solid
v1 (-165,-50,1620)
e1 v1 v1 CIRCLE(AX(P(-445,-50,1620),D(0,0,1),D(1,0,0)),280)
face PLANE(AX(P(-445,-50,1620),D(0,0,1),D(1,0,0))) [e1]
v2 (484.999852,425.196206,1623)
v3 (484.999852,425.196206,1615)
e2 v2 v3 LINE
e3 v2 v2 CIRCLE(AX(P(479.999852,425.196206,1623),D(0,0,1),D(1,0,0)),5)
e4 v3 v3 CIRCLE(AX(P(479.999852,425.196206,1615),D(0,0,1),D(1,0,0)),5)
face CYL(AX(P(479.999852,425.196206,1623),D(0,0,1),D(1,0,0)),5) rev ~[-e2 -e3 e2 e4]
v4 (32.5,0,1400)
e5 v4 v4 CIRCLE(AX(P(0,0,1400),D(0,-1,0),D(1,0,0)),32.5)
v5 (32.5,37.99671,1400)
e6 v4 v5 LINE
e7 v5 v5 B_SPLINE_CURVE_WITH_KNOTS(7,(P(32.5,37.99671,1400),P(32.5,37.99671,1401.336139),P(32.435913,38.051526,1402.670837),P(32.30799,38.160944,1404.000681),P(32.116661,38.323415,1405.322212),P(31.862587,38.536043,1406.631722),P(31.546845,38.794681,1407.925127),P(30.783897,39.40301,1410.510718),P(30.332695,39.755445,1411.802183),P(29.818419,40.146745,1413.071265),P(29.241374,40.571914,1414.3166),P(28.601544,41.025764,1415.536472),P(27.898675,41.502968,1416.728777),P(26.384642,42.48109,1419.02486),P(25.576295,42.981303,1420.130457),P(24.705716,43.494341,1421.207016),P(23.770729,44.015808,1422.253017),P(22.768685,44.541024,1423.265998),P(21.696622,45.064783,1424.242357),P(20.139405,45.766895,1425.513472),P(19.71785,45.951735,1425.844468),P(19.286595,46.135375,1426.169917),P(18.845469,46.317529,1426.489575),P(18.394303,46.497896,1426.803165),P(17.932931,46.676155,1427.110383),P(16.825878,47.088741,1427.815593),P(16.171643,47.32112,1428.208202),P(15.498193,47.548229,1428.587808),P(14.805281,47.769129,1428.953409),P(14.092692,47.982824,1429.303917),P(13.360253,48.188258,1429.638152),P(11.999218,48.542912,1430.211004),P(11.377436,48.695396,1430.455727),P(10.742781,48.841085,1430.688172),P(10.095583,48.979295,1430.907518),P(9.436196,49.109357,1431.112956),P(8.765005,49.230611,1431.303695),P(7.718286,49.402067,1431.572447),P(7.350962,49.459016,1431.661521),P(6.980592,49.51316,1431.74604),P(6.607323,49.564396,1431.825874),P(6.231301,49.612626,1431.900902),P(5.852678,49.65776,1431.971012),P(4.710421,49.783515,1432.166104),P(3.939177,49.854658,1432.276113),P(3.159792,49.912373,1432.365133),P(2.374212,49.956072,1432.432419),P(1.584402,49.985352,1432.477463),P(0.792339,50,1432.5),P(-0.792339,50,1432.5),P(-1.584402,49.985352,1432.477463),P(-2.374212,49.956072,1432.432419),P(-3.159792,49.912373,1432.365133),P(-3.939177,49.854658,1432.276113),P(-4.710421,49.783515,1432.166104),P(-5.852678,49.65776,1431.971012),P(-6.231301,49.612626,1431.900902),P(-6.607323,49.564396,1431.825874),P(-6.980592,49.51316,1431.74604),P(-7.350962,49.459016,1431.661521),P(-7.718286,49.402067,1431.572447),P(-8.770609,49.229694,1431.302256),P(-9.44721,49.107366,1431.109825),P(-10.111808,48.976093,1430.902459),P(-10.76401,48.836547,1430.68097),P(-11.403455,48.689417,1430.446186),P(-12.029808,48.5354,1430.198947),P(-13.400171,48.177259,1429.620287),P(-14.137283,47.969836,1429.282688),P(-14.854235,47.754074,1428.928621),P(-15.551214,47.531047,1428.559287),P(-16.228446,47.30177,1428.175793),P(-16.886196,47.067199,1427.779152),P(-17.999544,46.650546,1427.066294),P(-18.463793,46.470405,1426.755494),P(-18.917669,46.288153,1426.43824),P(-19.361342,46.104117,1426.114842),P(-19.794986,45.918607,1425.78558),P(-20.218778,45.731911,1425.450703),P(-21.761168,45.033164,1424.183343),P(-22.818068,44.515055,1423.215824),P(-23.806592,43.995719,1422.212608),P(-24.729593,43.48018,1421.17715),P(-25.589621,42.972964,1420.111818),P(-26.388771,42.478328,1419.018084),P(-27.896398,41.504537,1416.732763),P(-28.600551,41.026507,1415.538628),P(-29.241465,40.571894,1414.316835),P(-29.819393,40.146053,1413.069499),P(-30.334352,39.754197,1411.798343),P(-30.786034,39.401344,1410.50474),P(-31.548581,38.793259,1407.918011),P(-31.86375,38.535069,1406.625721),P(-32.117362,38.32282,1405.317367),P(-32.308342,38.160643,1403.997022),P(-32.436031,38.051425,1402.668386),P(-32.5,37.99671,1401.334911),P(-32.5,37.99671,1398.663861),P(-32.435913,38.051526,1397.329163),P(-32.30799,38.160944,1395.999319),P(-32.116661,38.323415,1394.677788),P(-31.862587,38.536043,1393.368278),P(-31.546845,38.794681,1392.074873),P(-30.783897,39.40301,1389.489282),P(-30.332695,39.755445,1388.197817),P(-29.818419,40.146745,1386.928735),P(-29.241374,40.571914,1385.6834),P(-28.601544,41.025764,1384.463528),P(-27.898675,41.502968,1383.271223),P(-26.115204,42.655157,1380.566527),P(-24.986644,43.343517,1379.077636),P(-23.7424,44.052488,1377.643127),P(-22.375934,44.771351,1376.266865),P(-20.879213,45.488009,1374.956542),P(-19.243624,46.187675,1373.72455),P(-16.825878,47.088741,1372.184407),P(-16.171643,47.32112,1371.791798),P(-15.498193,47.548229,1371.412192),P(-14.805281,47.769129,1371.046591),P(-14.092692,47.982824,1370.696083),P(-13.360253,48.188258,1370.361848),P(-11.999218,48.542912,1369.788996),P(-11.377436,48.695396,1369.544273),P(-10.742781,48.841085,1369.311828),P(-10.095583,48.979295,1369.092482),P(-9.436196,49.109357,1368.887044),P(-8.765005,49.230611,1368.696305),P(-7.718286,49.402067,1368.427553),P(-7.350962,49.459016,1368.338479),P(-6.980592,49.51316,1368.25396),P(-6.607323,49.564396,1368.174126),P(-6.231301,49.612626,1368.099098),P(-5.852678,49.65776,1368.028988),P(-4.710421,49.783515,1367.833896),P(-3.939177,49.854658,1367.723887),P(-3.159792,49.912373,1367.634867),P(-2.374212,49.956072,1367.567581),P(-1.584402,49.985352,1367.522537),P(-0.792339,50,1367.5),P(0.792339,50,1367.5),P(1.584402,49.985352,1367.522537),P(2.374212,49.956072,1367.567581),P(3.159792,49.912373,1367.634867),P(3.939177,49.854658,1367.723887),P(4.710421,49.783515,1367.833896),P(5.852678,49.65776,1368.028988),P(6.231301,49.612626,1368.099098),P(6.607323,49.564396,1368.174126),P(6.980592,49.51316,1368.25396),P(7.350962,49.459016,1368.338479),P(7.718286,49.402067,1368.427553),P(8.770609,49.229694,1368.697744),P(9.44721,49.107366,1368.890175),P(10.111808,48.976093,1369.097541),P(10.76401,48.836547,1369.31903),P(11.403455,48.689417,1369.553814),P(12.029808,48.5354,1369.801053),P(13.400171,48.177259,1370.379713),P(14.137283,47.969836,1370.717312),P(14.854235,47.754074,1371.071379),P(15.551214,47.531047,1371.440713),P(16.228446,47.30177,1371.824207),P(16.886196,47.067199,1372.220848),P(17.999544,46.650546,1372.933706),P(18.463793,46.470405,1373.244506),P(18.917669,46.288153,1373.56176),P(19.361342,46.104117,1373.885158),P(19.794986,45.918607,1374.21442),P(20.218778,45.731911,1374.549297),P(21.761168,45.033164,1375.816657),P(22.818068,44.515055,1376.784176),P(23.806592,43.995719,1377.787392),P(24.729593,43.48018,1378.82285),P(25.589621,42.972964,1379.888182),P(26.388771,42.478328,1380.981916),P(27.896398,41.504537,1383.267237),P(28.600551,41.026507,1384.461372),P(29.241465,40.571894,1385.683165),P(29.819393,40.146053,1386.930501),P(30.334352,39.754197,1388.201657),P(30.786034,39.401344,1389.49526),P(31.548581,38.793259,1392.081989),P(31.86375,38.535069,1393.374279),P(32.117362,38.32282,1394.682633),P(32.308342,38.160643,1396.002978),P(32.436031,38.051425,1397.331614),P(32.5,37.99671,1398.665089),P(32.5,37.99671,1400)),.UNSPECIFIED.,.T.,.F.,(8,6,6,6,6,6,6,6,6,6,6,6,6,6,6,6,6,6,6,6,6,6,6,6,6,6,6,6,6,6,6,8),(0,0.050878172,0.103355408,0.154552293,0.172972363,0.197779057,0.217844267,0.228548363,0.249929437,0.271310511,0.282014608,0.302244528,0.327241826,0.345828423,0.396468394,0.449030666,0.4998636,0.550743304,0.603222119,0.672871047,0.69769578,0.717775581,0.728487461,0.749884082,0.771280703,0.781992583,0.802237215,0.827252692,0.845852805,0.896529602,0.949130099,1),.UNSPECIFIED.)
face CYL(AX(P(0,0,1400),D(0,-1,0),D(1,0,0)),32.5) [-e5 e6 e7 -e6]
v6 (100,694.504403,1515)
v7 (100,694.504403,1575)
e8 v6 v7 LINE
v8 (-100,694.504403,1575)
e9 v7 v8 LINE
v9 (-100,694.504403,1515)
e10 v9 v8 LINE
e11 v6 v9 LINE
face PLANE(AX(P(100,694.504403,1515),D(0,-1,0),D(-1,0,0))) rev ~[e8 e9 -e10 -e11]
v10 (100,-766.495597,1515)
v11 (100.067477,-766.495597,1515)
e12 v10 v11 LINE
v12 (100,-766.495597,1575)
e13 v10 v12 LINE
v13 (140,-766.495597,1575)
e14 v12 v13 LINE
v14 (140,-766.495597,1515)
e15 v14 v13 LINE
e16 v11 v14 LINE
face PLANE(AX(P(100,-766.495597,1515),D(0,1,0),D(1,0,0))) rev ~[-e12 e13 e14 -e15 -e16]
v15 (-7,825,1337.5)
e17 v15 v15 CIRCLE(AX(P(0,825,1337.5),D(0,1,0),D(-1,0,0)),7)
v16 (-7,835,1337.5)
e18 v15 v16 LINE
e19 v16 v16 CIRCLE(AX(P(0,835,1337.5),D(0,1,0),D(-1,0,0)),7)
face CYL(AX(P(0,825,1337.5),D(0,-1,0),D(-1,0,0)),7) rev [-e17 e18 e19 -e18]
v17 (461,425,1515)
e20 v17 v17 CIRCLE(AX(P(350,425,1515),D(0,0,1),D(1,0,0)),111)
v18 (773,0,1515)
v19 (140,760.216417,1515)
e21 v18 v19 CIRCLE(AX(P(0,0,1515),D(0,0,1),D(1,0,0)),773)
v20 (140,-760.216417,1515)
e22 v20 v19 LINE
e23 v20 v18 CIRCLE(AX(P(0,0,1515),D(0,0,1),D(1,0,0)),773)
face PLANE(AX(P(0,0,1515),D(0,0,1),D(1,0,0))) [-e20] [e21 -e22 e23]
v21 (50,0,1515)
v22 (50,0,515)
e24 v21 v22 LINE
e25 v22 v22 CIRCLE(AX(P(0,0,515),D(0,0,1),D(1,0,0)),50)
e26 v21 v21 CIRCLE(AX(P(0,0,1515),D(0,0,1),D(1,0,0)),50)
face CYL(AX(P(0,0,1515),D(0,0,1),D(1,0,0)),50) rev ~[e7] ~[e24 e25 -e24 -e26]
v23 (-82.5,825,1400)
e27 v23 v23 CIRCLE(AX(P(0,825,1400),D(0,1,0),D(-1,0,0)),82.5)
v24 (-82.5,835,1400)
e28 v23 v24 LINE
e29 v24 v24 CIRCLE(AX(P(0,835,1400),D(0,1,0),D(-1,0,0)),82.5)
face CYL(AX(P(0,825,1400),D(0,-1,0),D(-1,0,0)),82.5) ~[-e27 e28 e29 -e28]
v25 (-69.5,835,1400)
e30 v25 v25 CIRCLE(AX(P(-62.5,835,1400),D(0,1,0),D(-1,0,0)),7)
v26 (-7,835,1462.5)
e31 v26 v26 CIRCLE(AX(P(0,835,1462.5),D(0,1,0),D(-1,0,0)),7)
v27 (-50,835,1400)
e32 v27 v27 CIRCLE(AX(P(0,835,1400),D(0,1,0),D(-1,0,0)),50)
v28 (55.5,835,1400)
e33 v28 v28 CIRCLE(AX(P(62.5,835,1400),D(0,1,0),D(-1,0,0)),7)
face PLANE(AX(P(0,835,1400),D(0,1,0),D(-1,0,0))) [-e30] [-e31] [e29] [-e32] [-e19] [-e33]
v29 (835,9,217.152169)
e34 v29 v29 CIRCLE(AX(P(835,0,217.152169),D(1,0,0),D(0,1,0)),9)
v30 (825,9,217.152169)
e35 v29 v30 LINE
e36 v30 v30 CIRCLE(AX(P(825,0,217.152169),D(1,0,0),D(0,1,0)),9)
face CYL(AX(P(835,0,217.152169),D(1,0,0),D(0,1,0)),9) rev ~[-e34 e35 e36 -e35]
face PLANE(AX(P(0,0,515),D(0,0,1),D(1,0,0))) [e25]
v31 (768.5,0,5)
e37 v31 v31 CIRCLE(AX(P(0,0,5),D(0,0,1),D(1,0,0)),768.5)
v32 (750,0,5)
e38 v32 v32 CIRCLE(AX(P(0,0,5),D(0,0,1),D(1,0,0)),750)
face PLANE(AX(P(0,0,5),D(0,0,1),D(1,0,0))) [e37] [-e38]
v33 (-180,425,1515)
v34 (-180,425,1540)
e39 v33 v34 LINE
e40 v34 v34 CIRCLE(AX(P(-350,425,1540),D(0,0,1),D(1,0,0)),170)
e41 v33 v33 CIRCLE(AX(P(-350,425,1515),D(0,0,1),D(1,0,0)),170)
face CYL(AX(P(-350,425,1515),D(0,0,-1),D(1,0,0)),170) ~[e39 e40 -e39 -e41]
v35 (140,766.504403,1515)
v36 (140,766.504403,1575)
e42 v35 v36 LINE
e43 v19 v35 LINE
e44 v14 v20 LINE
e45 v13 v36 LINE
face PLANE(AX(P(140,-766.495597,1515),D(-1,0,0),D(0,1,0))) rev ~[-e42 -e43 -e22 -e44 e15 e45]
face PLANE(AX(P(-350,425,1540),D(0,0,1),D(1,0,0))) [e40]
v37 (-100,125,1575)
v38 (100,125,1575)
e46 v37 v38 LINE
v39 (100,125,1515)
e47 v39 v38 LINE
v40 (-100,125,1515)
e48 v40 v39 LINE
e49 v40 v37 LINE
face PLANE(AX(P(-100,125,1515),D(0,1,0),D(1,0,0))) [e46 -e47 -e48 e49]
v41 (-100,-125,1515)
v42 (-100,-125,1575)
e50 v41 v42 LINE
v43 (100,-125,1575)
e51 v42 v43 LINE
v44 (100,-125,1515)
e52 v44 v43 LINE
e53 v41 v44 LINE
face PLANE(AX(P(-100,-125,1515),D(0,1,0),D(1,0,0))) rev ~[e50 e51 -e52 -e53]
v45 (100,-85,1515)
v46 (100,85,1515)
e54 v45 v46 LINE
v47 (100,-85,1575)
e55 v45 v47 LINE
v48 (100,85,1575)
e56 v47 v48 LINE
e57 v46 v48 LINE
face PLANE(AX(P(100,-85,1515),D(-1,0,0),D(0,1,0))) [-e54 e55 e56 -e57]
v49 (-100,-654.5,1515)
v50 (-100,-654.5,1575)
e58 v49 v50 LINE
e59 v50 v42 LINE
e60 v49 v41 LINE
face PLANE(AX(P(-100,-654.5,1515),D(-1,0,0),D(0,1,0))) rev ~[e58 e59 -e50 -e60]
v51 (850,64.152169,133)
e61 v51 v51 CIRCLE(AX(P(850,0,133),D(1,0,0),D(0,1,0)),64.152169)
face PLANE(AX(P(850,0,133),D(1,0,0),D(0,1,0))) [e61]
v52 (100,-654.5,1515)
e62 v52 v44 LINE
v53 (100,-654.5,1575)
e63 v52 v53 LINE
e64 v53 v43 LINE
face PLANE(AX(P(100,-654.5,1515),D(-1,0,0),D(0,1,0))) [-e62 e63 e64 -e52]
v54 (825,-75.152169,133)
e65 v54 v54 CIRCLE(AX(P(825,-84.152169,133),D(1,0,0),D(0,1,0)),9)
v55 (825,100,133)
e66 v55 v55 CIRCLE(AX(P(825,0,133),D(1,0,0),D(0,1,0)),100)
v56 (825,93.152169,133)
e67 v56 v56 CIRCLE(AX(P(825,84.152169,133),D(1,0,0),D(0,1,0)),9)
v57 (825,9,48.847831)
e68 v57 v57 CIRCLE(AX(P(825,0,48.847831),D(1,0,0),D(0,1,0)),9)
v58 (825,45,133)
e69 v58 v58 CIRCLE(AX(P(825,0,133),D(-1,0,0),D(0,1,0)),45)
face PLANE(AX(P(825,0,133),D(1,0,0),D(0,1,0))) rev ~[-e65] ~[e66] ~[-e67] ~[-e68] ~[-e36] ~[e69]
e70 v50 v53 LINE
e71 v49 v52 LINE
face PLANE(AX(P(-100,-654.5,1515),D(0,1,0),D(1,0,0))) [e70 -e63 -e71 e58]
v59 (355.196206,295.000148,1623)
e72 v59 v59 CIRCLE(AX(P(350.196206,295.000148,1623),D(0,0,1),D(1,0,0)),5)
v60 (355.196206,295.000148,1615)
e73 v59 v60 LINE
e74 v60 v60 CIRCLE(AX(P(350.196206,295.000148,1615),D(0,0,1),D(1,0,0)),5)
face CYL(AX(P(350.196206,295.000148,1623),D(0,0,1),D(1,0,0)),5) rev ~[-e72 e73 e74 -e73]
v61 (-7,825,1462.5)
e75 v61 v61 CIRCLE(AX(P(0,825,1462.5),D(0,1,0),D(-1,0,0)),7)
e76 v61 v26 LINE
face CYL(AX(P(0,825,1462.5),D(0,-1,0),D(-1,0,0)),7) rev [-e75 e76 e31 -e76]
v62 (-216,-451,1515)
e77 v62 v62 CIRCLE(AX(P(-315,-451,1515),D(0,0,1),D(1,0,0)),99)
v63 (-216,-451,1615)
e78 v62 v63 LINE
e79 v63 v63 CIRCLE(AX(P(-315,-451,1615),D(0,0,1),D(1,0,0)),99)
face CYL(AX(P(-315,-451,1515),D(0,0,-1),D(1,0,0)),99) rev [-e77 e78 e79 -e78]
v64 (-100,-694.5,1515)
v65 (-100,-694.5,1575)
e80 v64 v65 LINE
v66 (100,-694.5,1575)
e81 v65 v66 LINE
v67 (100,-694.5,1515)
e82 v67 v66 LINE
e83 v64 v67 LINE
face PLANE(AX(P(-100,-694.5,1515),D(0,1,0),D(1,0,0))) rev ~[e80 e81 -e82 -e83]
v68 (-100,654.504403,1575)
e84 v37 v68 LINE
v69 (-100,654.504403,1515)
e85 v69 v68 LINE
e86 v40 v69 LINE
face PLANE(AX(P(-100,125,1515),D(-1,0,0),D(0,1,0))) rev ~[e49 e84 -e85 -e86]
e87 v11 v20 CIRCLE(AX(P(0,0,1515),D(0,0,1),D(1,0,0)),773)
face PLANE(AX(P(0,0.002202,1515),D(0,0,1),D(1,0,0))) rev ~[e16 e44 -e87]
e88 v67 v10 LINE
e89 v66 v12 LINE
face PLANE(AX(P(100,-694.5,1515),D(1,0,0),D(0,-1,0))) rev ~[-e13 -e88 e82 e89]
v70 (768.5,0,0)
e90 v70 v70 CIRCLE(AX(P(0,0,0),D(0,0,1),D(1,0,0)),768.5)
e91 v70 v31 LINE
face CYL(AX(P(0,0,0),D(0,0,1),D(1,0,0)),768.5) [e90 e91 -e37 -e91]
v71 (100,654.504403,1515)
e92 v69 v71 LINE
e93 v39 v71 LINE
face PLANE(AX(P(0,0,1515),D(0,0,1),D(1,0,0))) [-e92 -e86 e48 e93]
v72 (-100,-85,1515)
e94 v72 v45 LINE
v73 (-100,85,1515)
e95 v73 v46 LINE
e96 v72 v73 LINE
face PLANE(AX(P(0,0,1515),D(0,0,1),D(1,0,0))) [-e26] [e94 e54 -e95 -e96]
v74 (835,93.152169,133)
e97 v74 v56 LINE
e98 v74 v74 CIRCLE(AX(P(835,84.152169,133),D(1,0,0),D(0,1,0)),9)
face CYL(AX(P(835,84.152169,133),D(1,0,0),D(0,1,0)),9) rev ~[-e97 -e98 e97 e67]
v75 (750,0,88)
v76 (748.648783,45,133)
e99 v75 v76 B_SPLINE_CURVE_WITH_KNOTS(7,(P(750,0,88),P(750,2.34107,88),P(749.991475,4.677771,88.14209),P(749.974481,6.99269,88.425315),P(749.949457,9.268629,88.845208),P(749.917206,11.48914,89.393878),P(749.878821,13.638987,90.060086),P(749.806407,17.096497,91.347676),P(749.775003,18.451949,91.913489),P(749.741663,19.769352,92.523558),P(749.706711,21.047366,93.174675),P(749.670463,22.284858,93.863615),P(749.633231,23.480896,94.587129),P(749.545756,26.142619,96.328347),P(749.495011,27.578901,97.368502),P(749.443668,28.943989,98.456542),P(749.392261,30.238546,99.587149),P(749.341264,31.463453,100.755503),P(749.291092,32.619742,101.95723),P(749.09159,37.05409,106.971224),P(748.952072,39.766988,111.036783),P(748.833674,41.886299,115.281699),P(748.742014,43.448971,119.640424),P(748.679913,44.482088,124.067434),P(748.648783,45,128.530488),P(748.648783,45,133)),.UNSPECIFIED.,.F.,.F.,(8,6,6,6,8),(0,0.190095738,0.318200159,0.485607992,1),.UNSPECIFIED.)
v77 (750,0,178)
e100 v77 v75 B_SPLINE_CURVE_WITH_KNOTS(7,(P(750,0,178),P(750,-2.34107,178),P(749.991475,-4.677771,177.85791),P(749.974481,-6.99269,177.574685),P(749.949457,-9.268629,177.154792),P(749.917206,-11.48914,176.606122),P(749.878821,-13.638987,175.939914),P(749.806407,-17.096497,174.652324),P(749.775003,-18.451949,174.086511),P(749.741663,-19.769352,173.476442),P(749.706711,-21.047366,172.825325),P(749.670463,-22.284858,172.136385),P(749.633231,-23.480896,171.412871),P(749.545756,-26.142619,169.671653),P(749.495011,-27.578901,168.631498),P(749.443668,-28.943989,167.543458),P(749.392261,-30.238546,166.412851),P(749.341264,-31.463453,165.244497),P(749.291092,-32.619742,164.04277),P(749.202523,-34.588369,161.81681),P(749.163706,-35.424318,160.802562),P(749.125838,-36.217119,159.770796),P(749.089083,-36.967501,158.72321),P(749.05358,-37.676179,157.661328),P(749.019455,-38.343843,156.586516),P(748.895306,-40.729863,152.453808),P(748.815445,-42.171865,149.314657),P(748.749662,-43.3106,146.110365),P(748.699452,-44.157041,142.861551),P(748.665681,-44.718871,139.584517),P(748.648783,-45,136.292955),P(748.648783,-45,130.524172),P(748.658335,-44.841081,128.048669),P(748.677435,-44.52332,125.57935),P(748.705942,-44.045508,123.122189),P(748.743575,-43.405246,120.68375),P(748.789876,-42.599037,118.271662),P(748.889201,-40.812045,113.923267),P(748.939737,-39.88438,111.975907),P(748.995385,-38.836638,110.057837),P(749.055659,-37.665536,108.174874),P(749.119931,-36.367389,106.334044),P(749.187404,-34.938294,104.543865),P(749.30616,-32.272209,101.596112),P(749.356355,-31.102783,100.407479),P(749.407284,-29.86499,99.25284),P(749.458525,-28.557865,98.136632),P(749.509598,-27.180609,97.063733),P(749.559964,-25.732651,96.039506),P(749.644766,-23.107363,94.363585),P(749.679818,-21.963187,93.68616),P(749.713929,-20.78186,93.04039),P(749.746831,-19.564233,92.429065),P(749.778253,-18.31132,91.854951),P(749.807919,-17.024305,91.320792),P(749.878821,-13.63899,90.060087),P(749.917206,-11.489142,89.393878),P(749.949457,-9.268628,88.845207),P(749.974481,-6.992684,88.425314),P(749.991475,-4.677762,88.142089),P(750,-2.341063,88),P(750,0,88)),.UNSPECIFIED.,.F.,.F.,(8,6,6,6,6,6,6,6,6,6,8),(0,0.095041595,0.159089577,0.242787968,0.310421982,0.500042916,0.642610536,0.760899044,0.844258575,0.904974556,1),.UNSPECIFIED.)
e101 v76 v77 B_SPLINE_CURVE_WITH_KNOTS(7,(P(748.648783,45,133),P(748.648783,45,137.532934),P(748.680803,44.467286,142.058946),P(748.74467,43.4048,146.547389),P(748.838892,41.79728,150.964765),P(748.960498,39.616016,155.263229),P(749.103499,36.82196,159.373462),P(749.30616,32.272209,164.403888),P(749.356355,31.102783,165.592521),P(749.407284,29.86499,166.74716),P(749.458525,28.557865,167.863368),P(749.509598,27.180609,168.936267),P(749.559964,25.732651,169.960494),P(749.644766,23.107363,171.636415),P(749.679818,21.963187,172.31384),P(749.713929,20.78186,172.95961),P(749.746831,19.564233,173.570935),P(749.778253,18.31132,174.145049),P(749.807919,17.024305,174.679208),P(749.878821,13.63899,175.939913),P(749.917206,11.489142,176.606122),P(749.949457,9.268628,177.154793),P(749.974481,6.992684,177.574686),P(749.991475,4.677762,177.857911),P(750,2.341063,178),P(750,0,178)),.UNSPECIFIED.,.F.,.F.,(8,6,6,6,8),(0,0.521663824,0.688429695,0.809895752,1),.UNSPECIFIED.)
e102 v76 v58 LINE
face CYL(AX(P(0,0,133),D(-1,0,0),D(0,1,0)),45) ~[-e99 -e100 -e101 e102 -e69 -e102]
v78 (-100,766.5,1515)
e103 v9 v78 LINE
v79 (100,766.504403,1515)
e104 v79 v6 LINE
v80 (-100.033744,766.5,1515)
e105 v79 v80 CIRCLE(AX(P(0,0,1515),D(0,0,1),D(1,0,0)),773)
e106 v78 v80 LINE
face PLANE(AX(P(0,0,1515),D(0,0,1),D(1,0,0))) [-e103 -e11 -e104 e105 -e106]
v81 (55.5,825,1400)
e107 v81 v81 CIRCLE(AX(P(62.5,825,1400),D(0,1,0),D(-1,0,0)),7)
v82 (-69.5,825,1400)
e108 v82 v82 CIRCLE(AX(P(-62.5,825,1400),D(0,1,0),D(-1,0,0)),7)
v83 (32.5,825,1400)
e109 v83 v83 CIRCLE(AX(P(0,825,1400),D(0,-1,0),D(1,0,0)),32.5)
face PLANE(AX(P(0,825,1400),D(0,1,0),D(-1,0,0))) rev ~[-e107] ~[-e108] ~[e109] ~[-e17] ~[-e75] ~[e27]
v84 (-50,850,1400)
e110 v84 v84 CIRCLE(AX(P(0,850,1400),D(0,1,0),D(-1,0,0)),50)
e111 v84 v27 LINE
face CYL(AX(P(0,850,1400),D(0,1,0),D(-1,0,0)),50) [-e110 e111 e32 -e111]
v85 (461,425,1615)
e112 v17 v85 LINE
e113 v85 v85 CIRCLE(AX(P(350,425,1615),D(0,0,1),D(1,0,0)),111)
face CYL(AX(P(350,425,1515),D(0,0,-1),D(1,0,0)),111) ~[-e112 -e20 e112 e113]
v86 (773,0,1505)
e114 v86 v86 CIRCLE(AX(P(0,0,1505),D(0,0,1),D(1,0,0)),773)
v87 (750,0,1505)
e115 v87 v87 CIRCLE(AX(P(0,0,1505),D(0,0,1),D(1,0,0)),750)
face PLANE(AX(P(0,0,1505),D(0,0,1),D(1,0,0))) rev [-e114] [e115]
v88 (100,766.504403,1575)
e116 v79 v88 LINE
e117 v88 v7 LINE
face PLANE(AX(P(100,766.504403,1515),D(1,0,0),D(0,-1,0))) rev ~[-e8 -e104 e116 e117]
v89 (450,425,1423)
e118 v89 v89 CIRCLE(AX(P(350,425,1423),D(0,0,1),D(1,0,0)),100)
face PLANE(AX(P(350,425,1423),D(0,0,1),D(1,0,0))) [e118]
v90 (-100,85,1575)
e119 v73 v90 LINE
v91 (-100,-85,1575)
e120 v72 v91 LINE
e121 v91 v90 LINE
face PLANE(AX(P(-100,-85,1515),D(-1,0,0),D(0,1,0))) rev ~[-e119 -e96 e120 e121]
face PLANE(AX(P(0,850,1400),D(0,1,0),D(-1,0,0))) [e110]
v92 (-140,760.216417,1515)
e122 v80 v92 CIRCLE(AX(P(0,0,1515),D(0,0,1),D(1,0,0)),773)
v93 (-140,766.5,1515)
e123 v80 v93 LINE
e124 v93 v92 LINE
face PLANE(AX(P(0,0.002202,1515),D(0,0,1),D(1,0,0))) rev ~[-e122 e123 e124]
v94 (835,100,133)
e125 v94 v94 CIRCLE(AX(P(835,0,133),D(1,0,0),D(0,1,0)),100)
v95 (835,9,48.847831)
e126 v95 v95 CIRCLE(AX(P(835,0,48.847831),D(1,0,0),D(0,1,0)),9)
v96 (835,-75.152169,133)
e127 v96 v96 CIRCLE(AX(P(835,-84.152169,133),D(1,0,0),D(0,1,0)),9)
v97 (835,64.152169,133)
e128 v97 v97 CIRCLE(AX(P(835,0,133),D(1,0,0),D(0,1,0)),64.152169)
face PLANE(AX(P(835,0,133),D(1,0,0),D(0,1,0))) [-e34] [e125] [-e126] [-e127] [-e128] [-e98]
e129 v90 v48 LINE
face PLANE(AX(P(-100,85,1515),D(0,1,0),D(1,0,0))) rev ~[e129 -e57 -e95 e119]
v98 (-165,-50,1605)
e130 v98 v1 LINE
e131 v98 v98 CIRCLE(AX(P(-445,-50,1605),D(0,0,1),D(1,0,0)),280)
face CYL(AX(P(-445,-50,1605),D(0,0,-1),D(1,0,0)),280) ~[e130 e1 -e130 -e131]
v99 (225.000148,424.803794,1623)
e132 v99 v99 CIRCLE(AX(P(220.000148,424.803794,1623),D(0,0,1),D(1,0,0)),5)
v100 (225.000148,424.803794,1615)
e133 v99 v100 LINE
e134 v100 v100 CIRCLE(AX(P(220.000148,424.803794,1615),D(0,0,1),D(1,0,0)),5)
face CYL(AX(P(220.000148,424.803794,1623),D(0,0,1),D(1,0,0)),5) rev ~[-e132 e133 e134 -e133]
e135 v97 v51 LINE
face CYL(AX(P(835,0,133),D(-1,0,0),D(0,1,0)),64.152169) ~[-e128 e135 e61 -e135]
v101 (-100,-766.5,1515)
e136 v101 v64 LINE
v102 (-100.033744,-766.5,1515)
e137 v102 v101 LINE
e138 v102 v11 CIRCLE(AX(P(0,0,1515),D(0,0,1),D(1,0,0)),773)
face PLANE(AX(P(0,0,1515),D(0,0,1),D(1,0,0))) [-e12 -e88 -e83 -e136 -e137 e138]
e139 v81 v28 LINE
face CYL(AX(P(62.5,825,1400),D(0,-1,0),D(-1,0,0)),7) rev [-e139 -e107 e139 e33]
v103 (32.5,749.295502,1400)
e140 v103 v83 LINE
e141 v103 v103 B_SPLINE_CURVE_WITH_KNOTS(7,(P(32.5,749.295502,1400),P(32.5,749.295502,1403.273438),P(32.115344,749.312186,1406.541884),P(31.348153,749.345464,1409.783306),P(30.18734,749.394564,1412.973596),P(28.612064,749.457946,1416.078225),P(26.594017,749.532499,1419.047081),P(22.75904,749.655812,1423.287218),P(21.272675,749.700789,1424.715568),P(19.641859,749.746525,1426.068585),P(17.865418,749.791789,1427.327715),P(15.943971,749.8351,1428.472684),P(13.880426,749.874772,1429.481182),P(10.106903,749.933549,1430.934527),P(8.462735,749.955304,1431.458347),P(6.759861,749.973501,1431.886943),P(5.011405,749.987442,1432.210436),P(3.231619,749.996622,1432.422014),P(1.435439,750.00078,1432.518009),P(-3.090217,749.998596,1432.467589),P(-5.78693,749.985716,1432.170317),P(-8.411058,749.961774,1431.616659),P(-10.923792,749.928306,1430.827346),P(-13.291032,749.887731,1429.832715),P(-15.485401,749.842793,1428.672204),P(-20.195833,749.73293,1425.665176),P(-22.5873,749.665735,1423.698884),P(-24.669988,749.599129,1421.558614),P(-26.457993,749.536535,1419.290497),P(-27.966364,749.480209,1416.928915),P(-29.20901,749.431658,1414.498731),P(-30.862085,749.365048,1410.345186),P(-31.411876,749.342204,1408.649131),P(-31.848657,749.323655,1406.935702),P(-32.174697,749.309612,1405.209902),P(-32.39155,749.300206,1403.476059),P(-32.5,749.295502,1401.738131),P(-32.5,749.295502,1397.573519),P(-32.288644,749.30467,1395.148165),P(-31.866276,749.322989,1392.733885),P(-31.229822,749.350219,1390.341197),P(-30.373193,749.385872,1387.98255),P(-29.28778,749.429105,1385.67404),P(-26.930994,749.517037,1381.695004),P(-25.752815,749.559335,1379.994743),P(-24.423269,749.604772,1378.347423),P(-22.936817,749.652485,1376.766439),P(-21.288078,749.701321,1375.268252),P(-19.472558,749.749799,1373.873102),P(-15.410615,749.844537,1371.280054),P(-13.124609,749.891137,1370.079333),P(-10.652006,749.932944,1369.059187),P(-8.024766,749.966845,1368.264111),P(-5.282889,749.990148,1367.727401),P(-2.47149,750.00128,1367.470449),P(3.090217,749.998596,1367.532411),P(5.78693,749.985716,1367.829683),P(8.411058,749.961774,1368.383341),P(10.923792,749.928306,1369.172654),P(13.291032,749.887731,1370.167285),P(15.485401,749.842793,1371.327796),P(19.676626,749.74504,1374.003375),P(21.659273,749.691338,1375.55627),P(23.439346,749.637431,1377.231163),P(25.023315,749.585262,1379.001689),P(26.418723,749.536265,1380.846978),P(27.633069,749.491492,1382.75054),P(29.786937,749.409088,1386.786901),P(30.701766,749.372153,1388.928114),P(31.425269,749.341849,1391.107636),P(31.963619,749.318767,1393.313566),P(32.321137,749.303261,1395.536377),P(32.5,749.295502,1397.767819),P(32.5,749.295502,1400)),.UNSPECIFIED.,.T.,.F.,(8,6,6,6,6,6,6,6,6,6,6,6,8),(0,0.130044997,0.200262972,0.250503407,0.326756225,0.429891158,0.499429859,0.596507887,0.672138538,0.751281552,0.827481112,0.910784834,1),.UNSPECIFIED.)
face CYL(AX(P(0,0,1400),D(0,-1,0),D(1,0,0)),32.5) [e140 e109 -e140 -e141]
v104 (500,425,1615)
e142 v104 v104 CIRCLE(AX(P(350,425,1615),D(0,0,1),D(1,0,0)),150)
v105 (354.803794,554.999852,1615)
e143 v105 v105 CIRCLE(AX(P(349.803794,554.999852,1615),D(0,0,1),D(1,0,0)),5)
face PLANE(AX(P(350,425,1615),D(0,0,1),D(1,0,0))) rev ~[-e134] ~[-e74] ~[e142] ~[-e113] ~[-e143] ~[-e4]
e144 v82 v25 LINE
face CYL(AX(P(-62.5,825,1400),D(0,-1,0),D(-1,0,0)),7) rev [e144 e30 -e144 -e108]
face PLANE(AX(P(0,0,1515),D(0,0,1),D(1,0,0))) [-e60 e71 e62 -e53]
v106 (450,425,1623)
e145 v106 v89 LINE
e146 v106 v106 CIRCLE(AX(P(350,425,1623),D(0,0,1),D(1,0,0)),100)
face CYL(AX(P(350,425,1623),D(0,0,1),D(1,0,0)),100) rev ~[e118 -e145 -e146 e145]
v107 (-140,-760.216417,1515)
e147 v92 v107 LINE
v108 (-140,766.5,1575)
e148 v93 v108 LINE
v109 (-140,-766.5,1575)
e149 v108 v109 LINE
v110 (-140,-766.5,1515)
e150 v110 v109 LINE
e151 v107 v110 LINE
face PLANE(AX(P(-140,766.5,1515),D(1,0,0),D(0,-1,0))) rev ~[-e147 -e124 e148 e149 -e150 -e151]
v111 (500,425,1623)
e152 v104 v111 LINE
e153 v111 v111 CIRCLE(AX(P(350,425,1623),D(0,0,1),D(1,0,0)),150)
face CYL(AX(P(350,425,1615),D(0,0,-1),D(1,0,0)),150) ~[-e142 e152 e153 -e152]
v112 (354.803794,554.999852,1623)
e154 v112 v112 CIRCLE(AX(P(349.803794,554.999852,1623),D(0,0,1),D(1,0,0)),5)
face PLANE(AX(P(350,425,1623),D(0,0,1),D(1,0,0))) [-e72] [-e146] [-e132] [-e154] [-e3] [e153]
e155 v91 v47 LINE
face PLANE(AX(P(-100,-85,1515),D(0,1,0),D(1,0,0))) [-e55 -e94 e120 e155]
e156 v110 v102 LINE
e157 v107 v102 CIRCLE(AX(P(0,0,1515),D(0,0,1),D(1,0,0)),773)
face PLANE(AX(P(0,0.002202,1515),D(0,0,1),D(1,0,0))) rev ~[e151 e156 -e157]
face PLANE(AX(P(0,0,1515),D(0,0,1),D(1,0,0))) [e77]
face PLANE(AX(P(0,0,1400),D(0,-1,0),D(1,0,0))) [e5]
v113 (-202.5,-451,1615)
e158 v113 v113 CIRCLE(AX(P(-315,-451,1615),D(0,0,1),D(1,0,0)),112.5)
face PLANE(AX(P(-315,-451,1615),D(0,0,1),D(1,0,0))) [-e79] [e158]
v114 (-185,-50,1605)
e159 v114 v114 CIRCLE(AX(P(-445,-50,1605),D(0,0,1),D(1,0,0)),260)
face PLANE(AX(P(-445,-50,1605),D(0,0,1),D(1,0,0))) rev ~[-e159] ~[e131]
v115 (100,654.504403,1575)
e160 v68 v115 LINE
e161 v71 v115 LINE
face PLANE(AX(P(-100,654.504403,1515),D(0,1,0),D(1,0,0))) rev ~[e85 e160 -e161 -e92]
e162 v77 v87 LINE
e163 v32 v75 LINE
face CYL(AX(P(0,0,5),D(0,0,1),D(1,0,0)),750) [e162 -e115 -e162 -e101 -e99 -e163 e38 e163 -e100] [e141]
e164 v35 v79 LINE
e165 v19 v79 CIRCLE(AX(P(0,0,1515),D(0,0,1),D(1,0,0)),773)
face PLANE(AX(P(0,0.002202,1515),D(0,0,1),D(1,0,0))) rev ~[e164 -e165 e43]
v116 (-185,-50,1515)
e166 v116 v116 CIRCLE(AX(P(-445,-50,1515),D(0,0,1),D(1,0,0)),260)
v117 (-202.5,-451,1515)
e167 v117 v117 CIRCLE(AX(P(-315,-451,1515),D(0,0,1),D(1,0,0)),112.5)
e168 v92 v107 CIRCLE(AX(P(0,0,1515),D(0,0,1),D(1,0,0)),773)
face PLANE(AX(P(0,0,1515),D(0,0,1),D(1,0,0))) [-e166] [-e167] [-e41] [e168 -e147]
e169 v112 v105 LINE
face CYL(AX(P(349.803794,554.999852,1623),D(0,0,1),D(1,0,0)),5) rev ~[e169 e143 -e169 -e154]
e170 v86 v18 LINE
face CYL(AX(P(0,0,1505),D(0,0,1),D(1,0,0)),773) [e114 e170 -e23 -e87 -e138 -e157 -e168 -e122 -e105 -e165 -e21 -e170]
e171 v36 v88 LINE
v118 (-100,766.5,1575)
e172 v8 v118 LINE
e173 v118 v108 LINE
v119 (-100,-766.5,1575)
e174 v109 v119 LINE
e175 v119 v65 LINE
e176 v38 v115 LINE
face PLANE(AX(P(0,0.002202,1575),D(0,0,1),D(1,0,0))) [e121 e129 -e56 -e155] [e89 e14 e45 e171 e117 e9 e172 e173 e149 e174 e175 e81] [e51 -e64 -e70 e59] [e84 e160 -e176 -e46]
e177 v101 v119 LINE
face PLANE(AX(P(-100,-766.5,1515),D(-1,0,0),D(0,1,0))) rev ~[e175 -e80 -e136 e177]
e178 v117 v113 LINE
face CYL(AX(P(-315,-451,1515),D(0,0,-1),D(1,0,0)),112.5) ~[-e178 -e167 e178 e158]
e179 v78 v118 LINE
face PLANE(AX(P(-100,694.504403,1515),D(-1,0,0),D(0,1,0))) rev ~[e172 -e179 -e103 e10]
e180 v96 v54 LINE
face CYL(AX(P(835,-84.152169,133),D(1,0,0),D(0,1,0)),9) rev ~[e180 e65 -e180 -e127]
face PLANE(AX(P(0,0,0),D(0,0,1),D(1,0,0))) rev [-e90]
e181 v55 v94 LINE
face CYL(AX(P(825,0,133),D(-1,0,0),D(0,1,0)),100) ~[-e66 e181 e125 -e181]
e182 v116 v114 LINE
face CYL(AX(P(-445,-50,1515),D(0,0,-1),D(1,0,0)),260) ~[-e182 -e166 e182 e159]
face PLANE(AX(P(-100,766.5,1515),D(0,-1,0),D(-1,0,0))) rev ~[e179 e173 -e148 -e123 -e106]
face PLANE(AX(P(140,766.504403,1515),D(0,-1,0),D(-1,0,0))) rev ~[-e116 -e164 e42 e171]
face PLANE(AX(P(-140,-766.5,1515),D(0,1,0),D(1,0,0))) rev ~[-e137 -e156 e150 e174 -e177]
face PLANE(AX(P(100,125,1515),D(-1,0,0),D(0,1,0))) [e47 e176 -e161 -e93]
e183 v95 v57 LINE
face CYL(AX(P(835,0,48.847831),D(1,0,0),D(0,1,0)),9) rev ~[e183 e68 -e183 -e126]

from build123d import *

# Parameters (mm, degrees)
F2_W      = 200
F2_H      = 529.5
F2_H_2    = 170
F2_H_3    = 529.5044031185
F3_DEPTH  = 60
F4_R      = 260
F5_DEPTH  = 90
F6_R      = 170
F7_DEPTH  = 25
F8_R      = 280
F9_DEPTH  = 15
F10_R     = 111
F11_DEPTH = 100
F12_R     = 150
F13_DEPTH = 8
F14_R     = 5
F15_DEPTH = 25
F16_R     = 100
F17_DEPTH = 200
F18_R     = 50
F19_DEPTH = 1000
F20_R     = 112.5
F20_R_2   = 99
F21_DEPTH = 100
F22_R     = 45
F23_DEPTH = 850
F25_R     = 100
F26_DEPTH = 10
F27_R     = 64.1521691024
F27_R_2   = 45
F28_DEPTH = 15
F29_R     = 9
F30_DEPTH = 25
F31_R     = 32.5
F32_DEPTH = 850
F34_R     = 82.5
F34_R_2   = 7
F35_DEPTH = 10
F36_R     = 50
F37_DEPTH = 25


with BuildPart() as f1:
    # F0 (on Front) → F1 (revolve)
    with BuildSketch(Plane.XZ):
        Polygon((0, 1515), (0, 0), (750, 0), (768.5, 0), (768.5, 5), (750, 5), (750, 1505), (773, 1505), (773, 1515), (750, 1515), align=None)
    revolve(axis=Axis((0, 0, 757.5), (0, 0, 1)))

    # F2 (on face) → F3 (join)
    with BuildSketch(Plane.XY.offset(1515)):
        Polygon((-100, 766.5), (-140, 766.5), (-140, -766.5), (-100, -766.5), (-100, -694.5), (100, -694.5), (100, -766.4955968815), (140, -766.4955968815), (140, 766.5044031185), (100, 766.5044031185), (100, 694.5044031185), (-100, 694.5044031185), align=None)
        with Locations((0, -389.75)):
            Rectangle(F2_W, F2_H, mode=Mode.SUBTRACT)
        Rectangle(F2_W, F2_H_2, mode=Mode.SUBTRACT)
        with Locations((0, 389.7522015592)):
            Rectangle(F2_W, F2_H_3, mode=Mode.SUBTRACT)
    extrude(amount=F3_DEPTH)

    # F4 (on face) → F5 (join)
    with BuildSketch(Plane.XY.offset(1515)):
        with Locations((-445, -50)):
            Circle(F4_R)
    extrude(amount=F5_DEPTH)

    # F6 (on face) → F7 (join)
    with BuildSketch(Plane.XY.offset(1515)):
        with Locations((-350, 425)):
            Circle(F6_R)
    extrude(amount=F7_DEPTH)

    # F8 (on face) → F9 (join)
    with BuildSketch(Plane.XY.offset(1605)):
        with Locations((-445, -50)):
            Circle(F8_R)
    extrude(amount=F9_DEPTH)

    # F10 (on face) → F11 (join)
    with BuildSketch(Plane.XY.offset(1515)):
        with Locations((350, 425)):
            Circle(F10_R)
    extrude(amount=F11_DEPTH)

    # F12 (on face) → F13 (join)
    with BuildSketch(Plane.XY.offset(1615)):
        with Locations((350, 425)):
            Circle(F12_R)
    extrude(amount=F13_DEPTH)

    # F14 (on face) → F15 (cut)
    with BuildSketch(Plane.XY.offset(1623)):
        with Locations((349.8037939217, 554.9998519352)):
            Circle(F14_R)
        with Locations((220.0001480648, 424.8037939217)):
            Circle(F14_R)
        with Locations((350.1962060783, 295.0001480648)):
            Circle(F14_R)
        with Locations((479.9998519352, 425.1962060783)):
            Circle(F14_R)
    extrude(amount=-F15_DEPTH, mode=Mode.SUBTRACT)

    # F16 (on face) → F17 (cut)
    with BuildSketch(Plane.XY.offset(1623)):
        with Locations((350, 425)):
            Circle(F16_R)
    extrude(amount=-F17_DEPTH, mode=Mode.SUBTRACT)

    # F18 (on face) → F19 (cut)
    with BuildSketch(Plane.XY.offset(1515)):
        Circle(F18_R)
    extrude(amount=-F19_DEPTH, mode=Mode.SUBTRACT)

    # F20 (on face) → F21 (join)
    with BuildSketch(Plane.XY.offset(1515)):
        with Locations((-315, -451)):
            Circle(F20_R)
        with Locations((-315, -451)):
            Circle(F20_R_2, mode=Mode.SUBTRACT)
    extrude(amount=F21_DEPTH)

    # F22 (on Right) → F23 (join)
    with BuildSketch(Plane.YZ):
        with Locations((0, 133)):
            Circle(F22_R)
    extrude(amount=F23_DEPTH)

    # F25 (on offset) → F26 (join)
    with BuildSketch(Plane.YZ.offset(825)):
        with Locations((0, 133)):
            Circle(F25_R)
    extrude(amount=F26_DEPTH)

    # F27 (on face) → F28 (join)
    with BuildSketch(Plane.YZ.offset(835)):
        with Locations((0, 133)):
            Circle(F27_R)
        with Locations((0, 133)):
            Circle(F27_R_2, mode=Mode.SUBTRACT)
    extrude(amount=F28_DEPTH)

    # F29 (on face) → F30 (cut)
    with BuildSketch(Plane.YZ.offset(835)):
        with Locations((0, 217.1521691024)):
            Circle(F29_R)
        with Locations((-84.1521691024, 133)):
            Circle(F29_R)
        with Locations((0, 48.8478308976)):
            Circle(F29_R)
        with Locations((84.1521691024, 133)):
            Circle(F29_R)
    extrude(amount=-F30_DEPTH, mode=Mode.SUBTRACT)

    # F31 (on Front) → F32 (join)
    with BuildSketch(Plane.XZ):
        with Locations((0, 1400)):
            Circle(F31_R)
    extrude(amount=-F32_DEPTH)

    # F34 (on offset) → F35 (join)
    with BuildSketch(Plane(origin=(0, 825, 0), x_dir=(-1, 0, 0), z_dir=(0, 1, 0))):
        with Locations((0, 1400)):
            Circle(F34_R)
        with Locations((0, 1337.5)):
            Circle(F34_R_2, mode=Mode.SUBTRACT)
        with Locations((-62.5, 1400)):
            Circle(F34_R_2, mode=Mode.SUBTRACT)
        with Locations((62.5, 1400)):
            Circle(F34_R_2, mode=Mode.SUBTRACT)
        with Locations((0, 1462.5)):
            Circle(F34_R_2, mode=Mode.SUBTRACT)
    extrude(amount=F35_DEPTH)

    # F36 (on face) → F37 (join)
    with BuildSketch(Plane(origin=(0, 850, 0), x_dir=(-1, 0, 0), z_dir=(0, 1, 0))):
        with Locations((0, 1400)):
            Circle(F36_R)
    extrude(amount=-F37_DEPTH)


solid = f1.part
